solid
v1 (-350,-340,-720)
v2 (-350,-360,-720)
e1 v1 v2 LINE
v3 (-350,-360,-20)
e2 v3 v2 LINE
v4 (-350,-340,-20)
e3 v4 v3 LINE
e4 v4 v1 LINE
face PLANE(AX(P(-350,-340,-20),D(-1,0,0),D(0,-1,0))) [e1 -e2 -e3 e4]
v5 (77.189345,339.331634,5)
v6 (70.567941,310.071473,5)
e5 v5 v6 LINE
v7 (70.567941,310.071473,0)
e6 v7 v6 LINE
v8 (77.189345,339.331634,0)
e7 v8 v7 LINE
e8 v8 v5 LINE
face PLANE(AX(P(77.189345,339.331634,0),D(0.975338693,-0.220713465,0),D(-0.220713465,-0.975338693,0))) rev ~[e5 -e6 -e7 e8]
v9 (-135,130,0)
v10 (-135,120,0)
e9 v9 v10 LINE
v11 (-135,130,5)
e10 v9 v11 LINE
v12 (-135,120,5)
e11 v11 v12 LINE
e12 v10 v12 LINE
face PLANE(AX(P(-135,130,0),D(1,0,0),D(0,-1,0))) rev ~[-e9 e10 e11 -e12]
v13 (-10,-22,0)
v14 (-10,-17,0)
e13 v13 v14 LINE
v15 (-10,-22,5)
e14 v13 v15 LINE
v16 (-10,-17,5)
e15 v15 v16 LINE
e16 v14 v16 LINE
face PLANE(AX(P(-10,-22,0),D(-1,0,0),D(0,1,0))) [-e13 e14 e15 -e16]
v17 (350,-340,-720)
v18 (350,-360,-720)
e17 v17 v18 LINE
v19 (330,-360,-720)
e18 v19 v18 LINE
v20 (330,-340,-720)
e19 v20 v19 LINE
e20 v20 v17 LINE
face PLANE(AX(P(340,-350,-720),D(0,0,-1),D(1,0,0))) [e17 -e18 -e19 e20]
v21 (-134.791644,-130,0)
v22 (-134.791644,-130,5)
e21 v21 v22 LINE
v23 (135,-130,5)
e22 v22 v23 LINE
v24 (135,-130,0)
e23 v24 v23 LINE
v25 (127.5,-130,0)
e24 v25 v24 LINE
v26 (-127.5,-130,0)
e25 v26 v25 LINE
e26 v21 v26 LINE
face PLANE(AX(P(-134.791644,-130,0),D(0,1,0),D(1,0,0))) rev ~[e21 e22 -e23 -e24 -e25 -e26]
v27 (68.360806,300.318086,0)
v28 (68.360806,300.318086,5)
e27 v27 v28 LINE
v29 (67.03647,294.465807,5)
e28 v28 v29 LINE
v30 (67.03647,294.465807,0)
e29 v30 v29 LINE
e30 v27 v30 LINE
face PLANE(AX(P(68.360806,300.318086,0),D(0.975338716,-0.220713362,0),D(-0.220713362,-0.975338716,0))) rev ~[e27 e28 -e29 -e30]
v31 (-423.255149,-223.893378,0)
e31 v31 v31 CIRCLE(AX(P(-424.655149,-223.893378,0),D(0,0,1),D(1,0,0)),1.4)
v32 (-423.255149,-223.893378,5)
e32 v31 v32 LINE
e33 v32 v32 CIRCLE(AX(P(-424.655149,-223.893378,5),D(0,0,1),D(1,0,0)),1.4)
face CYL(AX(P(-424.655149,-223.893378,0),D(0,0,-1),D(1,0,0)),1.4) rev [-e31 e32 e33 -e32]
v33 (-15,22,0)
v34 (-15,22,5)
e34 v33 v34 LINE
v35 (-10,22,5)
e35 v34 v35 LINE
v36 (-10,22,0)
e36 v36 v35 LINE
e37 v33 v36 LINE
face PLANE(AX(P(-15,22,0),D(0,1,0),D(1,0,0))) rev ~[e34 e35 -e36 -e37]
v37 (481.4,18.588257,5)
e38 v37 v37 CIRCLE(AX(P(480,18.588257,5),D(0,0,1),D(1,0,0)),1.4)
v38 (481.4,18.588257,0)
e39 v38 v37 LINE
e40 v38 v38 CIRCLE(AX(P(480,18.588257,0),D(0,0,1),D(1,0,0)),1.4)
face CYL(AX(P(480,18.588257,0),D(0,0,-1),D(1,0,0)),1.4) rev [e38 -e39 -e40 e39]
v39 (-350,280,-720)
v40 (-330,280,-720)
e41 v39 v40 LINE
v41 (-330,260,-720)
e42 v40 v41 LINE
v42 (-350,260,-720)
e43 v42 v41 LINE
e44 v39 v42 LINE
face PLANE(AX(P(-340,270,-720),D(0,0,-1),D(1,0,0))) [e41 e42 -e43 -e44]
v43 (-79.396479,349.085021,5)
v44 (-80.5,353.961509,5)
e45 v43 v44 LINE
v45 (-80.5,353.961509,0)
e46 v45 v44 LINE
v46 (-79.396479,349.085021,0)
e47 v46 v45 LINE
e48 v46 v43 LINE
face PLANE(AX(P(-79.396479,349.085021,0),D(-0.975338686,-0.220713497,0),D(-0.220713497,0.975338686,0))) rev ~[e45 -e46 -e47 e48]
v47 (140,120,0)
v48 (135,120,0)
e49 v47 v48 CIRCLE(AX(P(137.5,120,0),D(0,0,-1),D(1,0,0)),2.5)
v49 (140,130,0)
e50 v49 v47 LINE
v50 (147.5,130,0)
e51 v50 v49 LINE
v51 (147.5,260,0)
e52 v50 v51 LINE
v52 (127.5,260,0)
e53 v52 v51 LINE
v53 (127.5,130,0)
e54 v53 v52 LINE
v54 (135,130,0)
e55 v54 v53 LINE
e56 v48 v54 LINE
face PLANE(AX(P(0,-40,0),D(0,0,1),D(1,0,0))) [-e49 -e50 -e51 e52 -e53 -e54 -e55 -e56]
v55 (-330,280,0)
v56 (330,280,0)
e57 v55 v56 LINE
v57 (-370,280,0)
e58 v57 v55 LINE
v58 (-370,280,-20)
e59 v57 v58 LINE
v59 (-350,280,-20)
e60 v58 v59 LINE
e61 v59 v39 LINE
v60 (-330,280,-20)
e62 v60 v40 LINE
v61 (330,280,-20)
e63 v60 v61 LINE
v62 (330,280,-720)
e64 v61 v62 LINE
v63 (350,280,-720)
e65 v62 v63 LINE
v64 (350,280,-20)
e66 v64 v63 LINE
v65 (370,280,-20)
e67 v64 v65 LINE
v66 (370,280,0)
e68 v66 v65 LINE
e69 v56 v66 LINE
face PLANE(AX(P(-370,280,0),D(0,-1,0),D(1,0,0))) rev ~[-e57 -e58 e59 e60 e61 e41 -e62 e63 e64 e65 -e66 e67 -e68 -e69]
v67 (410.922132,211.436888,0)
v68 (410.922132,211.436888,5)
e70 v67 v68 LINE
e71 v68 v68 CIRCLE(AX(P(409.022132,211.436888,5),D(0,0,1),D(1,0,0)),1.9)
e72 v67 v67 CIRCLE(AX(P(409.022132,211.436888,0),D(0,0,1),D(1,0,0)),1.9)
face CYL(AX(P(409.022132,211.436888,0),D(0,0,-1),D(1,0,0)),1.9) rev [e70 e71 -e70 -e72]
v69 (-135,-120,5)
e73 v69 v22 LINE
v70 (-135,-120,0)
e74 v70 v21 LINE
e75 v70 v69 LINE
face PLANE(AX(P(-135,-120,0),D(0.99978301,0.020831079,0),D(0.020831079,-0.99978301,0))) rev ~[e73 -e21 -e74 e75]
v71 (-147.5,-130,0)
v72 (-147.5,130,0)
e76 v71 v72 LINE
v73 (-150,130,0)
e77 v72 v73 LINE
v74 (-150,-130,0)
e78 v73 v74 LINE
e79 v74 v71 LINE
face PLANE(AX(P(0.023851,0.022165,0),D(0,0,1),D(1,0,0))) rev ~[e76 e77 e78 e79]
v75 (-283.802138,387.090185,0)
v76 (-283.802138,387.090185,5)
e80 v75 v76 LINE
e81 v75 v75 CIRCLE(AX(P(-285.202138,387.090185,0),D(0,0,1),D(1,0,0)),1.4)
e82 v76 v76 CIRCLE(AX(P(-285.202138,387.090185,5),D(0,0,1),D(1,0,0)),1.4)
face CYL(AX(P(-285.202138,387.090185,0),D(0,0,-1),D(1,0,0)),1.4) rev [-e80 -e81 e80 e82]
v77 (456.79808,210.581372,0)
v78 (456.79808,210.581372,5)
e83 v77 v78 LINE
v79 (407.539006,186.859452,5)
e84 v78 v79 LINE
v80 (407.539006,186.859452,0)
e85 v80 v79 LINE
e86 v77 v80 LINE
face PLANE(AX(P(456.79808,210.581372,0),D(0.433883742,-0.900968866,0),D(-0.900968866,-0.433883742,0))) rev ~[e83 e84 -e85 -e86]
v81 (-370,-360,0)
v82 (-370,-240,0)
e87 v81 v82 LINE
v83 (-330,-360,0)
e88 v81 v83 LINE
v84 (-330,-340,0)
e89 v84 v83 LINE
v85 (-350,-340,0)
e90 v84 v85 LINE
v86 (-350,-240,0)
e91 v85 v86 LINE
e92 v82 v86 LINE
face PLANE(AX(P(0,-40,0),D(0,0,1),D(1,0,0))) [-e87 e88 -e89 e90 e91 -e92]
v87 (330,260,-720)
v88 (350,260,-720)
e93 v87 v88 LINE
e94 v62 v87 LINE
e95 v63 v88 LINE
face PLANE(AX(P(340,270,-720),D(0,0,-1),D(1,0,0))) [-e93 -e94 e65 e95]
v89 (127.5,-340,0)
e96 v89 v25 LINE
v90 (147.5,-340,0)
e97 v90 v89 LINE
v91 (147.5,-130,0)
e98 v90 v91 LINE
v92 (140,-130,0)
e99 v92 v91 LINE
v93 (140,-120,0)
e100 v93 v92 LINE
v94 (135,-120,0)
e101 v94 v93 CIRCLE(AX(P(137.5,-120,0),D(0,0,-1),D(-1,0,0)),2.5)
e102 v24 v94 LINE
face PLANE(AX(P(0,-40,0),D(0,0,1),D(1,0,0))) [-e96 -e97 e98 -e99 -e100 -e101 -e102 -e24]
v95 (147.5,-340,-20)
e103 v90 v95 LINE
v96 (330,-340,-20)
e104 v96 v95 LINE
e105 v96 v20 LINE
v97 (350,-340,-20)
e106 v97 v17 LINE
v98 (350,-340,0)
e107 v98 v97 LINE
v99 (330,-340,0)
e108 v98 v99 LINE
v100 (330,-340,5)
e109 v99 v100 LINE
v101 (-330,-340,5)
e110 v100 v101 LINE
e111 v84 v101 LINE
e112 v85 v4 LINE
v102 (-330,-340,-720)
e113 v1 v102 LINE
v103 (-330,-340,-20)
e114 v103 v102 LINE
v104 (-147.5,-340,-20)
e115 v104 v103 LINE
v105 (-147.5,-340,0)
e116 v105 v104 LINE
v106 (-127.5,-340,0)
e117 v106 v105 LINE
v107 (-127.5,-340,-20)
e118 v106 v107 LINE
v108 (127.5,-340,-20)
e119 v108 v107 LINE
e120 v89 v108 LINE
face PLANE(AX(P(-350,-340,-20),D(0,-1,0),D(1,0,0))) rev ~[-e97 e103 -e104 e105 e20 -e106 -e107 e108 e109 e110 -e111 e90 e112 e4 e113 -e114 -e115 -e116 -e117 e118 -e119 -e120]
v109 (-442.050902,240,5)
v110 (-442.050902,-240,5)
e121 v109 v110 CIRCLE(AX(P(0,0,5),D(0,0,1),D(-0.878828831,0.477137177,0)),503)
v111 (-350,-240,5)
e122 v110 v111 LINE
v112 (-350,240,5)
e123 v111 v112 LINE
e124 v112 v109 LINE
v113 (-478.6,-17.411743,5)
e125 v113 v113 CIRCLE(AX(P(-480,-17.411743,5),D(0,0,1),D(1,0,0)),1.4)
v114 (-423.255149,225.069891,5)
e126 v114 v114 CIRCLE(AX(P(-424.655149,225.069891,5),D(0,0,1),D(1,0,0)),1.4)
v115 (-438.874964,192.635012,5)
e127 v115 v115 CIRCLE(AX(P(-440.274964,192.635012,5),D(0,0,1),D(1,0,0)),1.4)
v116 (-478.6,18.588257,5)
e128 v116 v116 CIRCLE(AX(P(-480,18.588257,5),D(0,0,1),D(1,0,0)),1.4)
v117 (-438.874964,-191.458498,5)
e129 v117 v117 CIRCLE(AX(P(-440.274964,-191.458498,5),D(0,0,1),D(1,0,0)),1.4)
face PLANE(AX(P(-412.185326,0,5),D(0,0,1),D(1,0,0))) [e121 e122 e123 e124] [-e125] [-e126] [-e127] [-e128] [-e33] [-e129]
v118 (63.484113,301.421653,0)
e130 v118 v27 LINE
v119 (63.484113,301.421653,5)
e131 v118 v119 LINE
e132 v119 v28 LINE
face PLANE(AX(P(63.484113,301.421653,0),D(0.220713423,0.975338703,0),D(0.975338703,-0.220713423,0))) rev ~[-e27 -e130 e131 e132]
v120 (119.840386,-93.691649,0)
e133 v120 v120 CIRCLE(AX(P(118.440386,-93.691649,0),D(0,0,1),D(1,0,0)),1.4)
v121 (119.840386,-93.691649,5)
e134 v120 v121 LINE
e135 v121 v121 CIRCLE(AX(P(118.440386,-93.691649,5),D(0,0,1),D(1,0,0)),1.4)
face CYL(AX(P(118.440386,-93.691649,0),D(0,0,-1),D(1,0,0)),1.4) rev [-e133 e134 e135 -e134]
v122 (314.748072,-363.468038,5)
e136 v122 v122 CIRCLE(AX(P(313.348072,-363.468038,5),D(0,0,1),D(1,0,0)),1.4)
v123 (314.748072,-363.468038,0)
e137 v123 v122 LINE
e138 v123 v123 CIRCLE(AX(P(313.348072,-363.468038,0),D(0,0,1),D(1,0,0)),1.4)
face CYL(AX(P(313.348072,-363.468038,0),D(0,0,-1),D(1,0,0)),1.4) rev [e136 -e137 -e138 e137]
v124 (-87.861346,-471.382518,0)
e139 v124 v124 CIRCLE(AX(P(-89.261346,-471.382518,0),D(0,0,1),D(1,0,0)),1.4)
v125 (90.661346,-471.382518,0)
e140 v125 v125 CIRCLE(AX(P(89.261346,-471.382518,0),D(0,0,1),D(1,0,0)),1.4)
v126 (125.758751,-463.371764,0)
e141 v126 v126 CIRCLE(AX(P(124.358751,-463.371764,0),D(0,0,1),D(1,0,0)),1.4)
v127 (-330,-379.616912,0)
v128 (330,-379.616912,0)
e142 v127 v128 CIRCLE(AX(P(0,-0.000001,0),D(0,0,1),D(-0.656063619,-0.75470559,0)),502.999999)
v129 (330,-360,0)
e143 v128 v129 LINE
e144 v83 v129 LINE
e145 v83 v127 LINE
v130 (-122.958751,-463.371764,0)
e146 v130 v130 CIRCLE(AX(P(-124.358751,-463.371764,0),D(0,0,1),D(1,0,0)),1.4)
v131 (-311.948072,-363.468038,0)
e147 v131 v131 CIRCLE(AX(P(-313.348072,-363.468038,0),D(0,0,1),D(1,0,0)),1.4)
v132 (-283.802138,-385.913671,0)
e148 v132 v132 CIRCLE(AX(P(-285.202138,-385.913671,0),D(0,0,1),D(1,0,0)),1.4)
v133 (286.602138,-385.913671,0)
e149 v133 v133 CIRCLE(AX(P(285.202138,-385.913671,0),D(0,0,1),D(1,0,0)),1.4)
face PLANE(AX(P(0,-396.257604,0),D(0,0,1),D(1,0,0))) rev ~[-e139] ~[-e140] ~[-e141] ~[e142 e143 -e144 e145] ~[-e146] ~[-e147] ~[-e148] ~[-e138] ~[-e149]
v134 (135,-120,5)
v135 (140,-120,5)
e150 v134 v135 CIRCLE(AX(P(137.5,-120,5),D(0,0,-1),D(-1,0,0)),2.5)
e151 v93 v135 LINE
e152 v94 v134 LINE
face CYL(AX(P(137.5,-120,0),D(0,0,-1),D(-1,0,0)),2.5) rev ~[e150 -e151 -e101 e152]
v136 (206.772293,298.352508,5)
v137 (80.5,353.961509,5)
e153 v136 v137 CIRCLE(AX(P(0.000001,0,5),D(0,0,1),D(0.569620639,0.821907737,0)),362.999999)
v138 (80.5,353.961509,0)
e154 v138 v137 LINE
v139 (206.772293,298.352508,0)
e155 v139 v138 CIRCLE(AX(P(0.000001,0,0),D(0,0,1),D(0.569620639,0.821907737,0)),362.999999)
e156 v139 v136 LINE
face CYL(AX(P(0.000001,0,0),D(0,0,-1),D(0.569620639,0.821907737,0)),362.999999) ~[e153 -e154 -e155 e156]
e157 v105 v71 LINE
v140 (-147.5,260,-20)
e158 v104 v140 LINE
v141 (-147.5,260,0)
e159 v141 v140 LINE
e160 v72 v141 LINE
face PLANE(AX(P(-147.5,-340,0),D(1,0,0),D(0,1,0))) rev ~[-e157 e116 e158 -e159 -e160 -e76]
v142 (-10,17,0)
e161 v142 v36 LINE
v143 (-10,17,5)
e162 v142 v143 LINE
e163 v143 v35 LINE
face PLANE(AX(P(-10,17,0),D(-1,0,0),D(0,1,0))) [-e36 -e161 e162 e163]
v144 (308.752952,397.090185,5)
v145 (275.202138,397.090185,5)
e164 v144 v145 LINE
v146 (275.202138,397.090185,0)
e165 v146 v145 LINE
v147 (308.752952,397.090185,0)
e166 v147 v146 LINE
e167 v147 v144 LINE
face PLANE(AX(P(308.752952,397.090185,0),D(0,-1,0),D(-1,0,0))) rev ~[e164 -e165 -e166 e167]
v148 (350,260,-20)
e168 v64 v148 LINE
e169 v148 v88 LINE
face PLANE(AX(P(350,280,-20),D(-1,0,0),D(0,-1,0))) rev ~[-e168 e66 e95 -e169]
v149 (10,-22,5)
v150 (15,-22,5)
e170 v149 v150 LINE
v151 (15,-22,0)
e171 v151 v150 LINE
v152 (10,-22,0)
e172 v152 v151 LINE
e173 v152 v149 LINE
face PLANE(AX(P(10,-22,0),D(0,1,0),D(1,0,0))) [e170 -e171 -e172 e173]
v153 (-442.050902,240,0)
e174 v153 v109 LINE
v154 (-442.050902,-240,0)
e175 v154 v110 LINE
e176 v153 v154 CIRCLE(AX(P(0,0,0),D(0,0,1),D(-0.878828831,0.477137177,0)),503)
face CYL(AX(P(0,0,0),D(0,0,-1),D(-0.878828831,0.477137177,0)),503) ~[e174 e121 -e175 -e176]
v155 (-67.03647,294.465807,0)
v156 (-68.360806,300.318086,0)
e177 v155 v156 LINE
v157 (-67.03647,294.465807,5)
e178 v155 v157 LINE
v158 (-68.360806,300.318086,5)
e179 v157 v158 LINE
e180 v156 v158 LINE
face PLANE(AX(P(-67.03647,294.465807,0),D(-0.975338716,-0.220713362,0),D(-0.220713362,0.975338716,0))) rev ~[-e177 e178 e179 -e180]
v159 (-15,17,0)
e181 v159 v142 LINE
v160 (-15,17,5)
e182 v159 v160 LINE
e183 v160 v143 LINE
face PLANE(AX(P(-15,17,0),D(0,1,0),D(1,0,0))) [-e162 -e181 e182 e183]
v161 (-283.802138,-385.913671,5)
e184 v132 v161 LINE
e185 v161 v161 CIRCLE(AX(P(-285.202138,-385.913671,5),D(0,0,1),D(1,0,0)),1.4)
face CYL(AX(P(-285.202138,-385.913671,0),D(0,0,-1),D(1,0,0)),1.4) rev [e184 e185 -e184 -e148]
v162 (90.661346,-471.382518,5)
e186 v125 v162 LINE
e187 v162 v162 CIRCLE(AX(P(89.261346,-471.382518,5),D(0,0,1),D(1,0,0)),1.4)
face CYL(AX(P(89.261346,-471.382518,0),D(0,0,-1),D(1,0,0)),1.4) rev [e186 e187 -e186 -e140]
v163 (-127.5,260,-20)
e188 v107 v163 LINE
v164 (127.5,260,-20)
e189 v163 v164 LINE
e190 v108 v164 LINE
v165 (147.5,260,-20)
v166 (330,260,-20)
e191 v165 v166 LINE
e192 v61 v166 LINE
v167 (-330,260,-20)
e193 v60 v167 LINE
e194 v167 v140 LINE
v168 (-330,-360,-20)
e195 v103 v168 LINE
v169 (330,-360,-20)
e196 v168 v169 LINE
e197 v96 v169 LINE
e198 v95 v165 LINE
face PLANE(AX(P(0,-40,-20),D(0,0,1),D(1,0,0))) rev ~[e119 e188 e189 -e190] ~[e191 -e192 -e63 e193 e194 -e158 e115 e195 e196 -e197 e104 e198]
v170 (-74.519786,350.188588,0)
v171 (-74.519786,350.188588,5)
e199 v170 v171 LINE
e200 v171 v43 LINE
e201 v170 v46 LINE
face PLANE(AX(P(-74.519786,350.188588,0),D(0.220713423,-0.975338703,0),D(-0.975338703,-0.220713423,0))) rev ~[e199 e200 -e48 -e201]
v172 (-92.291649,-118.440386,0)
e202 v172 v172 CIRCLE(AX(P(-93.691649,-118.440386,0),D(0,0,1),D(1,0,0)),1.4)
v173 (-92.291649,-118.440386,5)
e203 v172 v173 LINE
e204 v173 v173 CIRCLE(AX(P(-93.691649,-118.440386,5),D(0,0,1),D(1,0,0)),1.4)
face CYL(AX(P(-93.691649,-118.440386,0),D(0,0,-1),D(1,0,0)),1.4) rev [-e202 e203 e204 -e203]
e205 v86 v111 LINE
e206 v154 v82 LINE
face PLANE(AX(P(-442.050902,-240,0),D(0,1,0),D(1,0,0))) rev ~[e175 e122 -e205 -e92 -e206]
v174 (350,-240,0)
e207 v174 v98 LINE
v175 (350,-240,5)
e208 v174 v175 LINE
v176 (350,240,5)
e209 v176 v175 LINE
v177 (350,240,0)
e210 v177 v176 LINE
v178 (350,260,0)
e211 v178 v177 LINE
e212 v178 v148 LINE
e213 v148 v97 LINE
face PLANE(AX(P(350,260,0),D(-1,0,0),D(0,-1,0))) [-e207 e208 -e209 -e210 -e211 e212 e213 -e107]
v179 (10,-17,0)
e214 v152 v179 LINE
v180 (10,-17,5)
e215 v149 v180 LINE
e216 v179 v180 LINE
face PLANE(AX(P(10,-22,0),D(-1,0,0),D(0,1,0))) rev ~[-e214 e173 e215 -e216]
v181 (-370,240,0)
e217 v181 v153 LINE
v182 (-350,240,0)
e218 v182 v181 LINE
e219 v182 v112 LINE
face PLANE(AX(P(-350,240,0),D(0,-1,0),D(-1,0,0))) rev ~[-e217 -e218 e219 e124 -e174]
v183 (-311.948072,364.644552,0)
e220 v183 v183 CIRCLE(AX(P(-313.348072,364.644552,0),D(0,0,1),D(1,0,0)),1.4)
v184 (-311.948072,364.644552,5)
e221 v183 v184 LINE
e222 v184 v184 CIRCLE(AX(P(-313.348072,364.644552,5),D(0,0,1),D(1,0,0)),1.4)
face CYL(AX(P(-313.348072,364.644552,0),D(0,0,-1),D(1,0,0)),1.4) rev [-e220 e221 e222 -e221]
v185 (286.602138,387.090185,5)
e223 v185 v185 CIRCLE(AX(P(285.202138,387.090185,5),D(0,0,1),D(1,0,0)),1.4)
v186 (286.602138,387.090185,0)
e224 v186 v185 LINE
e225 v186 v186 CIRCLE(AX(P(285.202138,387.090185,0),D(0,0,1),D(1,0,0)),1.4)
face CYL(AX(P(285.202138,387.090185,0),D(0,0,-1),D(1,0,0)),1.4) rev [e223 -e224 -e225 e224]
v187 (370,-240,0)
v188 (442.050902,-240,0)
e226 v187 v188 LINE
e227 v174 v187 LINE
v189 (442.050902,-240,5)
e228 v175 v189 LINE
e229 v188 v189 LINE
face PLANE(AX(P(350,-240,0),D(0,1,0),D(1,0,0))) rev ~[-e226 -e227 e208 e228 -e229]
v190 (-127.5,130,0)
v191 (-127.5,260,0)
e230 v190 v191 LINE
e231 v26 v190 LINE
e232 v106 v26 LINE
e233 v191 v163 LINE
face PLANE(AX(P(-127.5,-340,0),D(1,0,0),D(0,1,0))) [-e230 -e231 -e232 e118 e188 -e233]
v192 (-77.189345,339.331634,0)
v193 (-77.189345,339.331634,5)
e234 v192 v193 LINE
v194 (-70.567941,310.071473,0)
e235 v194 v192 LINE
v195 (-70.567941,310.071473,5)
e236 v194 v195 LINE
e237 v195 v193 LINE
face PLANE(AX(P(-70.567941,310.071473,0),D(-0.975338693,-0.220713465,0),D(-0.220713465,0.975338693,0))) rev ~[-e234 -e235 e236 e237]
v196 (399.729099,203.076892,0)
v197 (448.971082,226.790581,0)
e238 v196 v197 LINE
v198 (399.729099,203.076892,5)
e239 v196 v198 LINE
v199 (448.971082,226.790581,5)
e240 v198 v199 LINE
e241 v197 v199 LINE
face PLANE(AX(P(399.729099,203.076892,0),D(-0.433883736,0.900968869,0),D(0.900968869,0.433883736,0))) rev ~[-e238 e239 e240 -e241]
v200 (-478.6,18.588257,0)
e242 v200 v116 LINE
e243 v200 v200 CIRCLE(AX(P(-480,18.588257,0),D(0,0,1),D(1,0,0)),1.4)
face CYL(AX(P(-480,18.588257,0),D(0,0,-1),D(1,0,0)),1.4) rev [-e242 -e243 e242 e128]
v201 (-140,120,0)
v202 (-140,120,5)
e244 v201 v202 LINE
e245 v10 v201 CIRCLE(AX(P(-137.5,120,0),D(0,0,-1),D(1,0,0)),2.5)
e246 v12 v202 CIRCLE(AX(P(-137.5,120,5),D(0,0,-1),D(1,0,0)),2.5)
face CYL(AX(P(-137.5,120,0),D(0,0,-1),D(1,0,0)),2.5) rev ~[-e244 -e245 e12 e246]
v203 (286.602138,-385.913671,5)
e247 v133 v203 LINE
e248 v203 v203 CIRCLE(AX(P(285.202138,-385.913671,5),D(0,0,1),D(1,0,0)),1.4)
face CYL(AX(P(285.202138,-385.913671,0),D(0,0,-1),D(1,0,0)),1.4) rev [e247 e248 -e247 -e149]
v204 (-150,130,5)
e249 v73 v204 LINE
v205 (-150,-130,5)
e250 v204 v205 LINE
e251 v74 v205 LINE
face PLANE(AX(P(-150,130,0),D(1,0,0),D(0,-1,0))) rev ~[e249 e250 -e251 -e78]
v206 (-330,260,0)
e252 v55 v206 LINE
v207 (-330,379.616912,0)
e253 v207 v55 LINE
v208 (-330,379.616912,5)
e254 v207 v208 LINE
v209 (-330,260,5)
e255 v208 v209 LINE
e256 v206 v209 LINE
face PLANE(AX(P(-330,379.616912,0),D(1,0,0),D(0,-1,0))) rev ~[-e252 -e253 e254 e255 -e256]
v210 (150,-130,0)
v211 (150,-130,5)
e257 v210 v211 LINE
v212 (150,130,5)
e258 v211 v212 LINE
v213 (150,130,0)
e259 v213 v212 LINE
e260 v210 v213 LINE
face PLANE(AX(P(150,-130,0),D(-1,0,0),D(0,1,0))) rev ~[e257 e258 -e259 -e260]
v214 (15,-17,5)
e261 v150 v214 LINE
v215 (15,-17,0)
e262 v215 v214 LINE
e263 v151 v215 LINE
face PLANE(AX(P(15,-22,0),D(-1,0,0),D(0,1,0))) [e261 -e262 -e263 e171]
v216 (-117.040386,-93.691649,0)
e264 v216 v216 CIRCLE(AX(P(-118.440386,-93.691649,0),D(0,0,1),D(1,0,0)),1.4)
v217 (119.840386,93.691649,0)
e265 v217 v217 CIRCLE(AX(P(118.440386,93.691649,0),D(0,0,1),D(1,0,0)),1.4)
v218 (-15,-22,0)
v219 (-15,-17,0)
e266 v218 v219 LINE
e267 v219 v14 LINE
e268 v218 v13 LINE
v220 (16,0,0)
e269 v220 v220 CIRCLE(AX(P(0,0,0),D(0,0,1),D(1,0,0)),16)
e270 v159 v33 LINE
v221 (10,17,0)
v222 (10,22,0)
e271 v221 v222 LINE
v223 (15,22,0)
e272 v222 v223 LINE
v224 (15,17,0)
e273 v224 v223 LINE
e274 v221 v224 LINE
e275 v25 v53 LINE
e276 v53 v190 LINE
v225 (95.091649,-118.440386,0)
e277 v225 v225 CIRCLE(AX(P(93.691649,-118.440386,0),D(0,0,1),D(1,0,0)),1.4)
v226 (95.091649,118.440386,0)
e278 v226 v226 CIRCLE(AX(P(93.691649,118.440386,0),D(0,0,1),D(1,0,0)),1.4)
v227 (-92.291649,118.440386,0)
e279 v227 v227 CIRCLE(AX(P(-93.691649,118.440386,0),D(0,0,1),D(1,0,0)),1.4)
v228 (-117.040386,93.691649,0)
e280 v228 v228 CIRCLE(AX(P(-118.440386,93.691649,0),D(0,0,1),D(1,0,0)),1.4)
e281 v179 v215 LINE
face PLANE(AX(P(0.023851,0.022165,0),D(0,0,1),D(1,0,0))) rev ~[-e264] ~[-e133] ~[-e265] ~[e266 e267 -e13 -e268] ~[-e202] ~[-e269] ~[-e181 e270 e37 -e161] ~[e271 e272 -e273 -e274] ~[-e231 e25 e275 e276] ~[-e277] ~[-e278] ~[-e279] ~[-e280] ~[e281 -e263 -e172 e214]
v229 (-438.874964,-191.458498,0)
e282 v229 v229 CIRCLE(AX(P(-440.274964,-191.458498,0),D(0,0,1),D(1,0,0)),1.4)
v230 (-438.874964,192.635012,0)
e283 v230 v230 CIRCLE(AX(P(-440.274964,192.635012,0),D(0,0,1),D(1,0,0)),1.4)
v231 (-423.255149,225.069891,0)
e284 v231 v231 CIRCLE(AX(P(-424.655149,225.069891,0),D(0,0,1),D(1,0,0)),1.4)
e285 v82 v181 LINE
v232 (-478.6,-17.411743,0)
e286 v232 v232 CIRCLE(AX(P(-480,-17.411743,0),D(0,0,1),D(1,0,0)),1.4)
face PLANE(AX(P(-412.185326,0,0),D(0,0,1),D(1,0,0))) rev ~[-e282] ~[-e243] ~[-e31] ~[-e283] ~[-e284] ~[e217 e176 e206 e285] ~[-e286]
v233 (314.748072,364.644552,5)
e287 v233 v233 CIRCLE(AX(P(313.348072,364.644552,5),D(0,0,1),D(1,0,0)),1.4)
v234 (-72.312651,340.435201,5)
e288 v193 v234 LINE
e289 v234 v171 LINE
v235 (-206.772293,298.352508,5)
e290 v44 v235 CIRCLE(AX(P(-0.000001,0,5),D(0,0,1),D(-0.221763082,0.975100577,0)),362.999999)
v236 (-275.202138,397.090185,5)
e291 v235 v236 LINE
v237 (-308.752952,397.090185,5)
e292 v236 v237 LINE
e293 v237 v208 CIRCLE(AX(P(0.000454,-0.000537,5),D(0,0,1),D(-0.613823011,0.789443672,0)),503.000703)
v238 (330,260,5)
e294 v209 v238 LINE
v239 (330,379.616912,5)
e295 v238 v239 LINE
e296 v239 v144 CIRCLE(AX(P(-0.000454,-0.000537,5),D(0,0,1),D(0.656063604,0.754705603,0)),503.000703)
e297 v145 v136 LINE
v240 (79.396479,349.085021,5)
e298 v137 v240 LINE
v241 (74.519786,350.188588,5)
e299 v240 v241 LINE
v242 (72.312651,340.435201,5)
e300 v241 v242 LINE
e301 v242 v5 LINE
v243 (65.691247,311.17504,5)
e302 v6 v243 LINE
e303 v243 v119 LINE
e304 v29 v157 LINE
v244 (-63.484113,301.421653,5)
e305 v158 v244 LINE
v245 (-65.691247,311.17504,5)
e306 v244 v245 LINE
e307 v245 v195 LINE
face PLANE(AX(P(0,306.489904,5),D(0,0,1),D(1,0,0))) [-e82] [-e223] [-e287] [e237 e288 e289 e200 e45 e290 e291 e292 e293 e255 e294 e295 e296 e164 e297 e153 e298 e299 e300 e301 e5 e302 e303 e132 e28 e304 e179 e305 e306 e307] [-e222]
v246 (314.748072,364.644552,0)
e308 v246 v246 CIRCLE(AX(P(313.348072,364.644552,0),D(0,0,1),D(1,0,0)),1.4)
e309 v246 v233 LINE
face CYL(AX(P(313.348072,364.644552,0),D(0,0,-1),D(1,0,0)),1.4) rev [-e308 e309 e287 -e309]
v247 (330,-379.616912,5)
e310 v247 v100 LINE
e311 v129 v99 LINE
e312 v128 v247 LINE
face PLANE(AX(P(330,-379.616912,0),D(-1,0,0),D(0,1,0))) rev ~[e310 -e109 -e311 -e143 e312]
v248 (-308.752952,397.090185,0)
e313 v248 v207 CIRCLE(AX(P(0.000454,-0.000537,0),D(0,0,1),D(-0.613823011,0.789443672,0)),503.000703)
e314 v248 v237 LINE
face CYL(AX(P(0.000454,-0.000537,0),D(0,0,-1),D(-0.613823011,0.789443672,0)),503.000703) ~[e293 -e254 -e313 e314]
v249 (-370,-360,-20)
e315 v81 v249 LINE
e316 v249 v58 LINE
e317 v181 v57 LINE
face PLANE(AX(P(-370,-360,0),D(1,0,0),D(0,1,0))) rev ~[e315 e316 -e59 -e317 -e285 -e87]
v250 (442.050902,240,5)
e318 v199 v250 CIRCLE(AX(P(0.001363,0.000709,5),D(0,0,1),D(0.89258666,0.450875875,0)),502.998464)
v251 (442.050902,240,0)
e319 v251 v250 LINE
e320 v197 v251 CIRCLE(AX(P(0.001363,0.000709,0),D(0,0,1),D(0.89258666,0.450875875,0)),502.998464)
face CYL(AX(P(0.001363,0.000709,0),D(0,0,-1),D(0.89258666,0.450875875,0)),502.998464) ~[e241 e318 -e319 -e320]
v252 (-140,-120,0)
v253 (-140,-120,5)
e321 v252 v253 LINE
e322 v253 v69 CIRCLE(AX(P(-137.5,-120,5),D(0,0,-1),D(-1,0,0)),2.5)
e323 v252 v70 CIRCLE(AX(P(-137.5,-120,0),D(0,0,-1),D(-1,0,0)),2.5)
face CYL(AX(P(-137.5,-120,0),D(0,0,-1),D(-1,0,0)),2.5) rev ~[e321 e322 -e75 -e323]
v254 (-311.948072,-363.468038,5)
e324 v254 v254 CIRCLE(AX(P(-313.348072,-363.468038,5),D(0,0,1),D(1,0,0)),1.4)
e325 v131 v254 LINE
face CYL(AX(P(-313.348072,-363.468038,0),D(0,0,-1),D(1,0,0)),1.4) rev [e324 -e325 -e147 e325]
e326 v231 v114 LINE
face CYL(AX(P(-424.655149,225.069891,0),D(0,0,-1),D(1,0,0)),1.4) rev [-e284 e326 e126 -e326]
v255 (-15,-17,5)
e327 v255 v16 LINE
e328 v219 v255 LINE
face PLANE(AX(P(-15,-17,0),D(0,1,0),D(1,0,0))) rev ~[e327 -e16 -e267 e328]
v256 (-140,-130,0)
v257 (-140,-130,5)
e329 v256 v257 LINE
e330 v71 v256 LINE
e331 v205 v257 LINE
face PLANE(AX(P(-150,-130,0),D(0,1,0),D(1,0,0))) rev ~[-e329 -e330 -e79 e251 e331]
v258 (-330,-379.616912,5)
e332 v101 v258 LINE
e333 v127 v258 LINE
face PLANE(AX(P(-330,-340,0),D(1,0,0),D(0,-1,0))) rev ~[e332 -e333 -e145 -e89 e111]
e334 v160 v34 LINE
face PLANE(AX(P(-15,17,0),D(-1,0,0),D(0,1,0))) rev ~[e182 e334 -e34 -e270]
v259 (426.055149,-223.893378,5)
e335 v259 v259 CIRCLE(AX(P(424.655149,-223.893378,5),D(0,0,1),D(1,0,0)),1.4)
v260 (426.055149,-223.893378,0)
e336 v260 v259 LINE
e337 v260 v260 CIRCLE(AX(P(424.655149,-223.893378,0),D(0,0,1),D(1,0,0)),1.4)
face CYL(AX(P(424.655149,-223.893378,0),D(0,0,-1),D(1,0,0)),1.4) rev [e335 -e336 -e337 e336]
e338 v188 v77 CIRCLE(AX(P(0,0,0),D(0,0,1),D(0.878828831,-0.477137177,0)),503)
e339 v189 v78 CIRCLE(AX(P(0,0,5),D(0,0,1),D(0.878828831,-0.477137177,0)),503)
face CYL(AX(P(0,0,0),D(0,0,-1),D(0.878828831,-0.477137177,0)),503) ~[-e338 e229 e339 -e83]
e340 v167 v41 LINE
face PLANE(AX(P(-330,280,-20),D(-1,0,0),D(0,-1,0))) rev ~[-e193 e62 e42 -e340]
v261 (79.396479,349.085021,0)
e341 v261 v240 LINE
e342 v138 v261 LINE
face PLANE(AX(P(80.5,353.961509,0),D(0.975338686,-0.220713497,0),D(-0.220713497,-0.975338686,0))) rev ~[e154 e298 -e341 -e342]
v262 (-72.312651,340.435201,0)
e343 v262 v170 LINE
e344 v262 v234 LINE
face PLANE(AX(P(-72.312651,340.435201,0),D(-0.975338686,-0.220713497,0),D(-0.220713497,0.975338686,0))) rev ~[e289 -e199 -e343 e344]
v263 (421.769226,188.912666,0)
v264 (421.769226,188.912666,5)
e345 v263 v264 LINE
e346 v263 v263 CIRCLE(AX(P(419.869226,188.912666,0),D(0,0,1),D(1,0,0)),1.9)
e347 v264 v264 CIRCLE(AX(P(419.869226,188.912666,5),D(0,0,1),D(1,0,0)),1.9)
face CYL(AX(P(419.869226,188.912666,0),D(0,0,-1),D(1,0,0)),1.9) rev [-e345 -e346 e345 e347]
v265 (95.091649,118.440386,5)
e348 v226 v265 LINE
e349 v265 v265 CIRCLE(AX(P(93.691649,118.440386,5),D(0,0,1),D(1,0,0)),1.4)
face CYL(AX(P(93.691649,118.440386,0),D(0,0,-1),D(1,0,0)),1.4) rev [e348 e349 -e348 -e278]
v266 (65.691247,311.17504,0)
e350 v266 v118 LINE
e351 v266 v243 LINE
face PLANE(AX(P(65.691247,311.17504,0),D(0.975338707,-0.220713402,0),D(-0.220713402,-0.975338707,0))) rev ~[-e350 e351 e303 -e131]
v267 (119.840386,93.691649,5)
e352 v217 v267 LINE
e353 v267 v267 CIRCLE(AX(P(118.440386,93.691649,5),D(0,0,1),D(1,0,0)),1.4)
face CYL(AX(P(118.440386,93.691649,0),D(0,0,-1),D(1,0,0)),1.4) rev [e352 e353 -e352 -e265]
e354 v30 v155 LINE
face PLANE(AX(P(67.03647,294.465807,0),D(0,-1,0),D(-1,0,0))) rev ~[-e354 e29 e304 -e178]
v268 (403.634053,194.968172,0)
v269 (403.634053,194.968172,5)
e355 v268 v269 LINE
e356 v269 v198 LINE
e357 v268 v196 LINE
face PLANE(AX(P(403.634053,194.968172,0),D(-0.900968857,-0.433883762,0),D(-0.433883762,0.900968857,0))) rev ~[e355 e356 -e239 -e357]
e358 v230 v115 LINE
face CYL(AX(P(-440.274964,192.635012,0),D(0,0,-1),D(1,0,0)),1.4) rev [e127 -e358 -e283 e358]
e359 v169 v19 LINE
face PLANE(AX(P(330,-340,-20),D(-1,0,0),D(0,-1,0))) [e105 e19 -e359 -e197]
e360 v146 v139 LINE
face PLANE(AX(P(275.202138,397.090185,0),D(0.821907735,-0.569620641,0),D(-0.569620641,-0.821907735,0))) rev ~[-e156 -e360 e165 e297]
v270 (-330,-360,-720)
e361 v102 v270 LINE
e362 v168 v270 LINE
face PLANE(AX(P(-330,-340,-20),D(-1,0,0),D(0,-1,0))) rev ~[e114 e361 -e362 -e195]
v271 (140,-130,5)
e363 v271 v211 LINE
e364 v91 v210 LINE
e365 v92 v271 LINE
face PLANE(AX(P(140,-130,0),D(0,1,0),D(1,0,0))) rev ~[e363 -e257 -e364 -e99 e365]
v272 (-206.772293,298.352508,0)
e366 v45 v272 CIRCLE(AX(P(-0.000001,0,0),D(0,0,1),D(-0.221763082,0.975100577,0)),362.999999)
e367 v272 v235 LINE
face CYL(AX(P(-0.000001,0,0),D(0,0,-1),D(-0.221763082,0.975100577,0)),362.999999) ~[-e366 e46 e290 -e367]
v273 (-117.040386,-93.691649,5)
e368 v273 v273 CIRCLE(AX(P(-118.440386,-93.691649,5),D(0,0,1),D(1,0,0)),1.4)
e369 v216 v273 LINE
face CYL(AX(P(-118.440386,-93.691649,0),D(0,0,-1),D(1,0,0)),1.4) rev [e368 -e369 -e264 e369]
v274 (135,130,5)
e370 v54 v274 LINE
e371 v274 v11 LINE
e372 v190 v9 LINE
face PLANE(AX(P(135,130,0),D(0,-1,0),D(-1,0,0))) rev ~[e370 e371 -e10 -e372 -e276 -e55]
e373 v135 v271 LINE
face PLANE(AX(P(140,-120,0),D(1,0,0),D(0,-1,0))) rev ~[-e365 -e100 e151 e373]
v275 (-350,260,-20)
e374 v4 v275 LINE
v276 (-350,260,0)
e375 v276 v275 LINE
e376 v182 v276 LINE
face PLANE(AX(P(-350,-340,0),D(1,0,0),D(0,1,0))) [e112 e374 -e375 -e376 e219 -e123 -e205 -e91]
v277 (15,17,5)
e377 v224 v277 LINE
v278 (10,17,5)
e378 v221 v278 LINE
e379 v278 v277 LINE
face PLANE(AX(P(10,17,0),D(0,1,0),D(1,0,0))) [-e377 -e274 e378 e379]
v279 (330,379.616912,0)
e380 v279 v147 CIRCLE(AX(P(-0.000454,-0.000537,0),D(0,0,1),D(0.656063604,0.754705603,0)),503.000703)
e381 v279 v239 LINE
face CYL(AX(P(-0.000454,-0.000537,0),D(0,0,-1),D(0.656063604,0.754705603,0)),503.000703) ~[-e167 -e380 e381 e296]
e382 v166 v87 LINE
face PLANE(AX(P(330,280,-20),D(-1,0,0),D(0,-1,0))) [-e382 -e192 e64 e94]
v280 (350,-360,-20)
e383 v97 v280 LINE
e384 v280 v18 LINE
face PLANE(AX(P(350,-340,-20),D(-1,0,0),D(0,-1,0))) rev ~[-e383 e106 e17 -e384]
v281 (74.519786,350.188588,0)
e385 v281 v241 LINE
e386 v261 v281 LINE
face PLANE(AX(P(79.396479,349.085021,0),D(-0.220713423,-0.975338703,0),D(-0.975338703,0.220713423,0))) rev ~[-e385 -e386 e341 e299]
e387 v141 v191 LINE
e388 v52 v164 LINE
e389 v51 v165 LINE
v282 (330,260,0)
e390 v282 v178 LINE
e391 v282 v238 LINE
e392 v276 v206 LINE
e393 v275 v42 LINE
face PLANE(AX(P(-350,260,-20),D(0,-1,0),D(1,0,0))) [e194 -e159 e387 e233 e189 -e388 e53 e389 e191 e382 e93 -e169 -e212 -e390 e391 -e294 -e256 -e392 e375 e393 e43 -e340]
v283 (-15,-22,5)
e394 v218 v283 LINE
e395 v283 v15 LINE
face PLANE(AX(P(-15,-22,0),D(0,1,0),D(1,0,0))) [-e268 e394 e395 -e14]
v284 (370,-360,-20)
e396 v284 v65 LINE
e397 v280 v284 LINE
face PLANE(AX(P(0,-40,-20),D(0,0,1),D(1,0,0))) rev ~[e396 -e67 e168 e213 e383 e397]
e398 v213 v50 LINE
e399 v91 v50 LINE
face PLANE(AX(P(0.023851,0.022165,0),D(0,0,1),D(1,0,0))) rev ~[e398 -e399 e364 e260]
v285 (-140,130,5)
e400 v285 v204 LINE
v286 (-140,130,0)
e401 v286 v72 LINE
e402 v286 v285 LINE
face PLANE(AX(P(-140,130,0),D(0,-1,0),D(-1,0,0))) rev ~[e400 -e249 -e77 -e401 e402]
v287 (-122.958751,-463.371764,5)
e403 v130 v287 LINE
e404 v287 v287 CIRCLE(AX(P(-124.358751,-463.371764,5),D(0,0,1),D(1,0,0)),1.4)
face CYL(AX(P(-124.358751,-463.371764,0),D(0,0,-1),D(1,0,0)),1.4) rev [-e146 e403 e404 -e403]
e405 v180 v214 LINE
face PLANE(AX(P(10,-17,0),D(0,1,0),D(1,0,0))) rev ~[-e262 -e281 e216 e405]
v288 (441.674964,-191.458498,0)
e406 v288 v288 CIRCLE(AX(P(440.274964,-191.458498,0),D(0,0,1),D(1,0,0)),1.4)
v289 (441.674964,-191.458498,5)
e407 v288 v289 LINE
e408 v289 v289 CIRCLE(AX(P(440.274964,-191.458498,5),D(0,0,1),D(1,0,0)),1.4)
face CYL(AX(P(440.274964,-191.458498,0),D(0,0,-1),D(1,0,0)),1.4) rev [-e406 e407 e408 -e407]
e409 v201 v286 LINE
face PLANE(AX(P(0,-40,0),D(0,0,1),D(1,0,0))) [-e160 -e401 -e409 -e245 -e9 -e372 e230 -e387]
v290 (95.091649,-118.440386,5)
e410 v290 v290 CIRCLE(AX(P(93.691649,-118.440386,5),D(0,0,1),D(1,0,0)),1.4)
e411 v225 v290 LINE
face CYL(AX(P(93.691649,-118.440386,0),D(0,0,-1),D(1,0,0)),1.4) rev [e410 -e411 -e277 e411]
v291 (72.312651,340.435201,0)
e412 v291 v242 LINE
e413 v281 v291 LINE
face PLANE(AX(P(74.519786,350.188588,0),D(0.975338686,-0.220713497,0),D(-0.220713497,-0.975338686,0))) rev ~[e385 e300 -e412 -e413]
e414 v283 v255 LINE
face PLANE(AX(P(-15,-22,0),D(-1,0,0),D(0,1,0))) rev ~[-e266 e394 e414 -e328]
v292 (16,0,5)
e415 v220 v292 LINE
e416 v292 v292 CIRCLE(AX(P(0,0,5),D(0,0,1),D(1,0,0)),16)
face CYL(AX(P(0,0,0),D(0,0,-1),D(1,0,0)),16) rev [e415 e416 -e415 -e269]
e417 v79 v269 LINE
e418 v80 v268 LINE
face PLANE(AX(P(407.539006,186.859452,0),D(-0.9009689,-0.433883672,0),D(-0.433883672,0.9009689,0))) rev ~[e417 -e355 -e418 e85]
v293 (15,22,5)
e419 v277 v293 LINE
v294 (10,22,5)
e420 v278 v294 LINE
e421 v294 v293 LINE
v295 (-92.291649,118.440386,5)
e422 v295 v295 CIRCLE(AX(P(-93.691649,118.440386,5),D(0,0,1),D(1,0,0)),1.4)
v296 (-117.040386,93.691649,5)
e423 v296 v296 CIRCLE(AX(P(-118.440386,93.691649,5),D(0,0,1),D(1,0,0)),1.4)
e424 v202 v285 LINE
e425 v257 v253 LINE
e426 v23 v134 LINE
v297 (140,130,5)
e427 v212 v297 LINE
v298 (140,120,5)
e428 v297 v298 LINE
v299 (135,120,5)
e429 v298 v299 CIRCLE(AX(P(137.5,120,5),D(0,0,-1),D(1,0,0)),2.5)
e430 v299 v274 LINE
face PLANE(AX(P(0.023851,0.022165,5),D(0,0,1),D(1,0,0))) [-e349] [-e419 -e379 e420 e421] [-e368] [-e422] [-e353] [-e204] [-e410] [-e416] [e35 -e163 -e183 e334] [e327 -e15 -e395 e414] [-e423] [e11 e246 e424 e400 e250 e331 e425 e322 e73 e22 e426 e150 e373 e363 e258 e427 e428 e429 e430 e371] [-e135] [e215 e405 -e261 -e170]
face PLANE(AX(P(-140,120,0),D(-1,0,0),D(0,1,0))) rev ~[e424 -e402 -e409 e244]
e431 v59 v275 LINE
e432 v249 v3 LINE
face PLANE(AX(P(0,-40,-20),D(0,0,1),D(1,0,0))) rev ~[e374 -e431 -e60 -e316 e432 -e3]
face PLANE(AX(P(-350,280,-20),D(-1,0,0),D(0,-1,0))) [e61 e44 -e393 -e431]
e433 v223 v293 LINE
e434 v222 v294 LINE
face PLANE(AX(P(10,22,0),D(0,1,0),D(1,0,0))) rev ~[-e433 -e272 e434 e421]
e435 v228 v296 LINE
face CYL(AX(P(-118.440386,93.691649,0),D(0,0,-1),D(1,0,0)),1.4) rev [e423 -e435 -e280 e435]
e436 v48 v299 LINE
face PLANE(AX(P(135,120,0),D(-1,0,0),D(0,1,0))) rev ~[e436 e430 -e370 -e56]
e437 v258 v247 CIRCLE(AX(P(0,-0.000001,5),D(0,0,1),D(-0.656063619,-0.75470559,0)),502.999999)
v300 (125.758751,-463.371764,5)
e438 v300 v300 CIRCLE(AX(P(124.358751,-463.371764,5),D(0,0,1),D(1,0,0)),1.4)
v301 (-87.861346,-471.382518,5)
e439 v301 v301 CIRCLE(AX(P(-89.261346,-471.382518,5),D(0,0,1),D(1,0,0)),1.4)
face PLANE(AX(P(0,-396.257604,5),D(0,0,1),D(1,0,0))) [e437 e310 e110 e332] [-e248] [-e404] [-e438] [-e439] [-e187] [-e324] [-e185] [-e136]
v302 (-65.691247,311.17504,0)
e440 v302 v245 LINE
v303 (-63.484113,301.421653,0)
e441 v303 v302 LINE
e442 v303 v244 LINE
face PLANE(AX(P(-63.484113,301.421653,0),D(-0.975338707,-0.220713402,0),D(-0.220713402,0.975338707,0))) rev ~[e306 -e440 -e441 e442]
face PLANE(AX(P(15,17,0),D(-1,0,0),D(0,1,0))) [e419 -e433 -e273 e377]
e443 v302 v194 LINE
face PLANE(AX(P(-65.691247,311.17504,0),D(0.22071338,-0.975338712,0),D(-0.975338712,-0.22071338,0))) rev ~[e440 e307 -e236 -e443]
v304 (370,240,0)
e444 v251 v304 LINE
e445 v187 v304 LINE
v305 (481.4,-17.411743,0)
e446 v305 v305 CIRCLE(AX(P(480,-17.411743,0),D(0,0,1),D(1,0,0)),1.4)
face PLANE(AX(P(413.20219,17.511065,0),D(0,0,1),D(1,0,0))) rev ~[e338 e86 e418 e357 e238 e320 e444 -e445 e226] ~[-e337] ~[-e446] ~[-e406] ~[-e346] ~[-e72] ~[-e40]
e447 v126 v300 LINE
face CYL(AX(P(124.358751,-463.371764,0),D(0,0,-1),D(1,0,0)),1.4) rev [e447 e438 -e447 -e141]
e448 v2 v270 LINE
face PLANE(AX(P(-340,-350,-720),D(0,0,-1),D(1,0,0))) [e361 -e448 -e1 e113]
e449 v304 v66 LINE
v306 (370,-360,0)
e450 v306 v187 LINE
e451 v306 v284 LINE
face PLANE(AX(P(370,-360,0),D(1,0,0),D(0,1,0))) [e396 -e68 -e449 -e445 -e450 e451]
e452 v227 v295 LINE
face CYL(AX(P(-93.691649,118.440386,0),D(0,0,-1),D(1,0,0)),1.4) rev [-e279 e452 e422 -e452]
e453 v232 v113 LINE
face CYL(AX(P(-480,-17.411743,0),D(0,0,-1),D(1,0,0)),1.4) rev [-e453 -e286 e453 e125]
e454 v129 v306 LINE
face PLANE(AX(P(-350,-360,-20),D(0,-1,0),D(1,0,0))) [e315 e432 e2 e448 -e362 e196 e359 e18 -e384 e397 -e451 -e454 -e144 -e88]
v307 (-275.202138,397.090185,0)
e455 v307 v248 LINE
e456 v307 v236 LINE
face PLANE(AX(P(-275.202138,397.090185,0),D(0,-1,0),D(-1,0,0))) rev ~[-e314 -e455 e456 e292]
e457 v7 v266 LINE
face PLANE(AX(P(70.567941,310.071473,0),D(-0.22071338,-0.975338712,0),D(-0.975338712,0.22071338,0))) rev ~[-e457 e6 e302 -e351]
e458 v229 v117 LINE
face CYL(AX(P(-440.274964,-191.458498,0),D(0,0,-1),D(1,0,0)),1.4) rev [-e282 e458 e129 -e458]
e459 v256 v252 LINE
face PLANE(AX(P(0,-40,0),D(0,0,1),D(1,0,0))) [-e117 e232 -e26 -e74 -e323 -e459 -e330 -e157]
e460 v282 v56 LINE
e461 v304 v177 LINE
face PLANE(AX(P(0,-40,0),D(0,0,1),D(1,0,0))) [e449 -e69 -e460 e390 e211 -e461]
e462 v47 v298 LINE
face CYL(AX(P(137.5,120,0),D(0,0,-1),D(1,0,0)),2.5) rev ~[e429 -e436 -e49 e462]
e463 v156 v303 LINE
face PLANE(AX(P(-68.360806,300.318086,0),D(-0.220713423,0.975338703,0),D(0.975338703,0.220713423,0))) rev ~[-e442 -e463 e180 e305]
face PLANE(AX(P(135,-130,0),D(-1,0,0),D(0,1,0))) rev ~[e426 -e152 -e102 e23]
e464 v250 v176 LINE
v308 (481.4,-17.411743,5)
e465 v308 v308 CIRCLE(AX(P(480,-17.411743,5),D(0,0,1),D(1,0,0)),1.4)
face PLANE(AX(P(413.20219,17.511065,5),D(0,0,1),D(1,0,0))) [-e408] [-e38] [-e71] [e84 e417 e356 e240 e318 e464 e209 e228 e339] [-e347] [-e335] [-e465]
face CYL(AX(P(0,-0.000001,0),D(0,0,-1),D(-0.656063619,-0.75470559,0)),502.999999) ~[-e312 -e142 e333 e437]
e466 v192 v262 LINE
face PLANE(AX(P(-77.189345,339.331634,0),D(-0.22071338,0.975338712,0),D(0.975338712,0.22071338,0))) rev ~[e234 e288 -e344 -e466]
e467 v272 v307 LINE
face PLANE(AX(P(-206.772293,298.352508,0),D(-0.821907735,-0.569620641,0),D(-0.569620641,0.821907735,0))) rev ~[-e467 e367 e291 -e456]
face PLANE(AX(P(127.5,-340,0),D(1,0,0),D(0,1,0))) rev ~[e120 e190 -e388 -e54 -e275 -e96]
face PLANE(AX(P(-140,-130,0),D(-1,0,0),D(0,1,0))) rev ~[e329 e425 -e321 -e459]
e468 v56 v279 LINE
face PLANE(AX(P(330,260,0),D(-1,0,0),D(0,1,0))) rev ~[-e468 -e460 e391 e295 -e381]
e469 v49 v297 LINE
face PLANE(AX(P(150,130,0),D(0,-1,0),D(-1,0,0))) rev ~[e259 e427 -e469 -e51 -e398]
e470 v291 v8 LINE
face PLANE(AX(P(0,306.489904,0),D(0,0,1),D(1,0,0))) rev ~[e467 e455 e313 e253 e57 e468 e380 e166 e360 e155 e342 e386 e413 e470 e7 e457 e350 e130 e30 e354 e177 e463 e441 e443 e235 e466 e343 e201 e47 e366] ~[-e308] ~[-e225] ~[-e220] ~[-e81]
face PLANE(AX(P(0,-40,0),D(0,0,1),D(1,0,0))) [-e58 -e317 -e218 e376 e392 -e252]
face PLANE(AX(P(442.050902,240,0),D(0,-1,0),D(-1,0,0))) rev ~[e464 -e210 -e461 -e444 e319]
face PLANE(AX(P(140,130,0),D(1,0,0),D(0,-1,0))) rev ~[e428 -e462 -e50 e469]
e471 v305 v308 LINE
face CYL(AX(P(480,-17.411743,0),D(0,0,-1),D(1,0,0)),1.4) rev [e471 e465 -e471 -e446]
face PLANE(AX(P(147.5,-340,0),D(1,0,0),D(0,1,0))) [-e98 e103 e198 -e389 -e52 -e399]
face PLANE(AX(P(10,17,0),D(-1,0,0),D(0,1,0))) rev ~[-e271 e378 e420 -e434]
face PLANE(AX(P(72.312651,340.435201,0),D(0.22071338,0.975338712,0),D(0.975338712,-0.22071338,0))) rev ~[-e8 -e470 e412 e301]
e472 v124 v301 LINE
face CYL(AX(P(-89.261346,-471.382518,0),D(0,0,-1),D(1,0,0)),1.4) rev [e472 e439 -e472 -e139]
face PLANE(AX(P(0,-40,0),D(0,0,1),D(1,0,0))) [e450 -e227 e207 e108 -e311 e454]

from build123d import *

# Parameters (mm, degrees)
F1_W     = 740
F1_H     = 640
F1_W_2   = 20
F1_H_2   = 600
F2_DEPTH = 20
F0_R     = 1.4
F0_R_2   = 1.9
F0_W     = 5
F0_H     = 5
F0_R_3   = 16
F3_DEPTH = 5
F4_W     = 20
F4_H     = 20
F5_DEPTH = 700


with BuildPart() as f2:
    # F1 (on Top) → F2 (new body)
    with BuildSketch(Plane.XY):
        with Locations((0, -40)):
            Rectangle(F1_W, F1_H)
        Polygon((-350, -340), (-350, 260), (-147.5, 260), (-127.5, 260), (127.5, 260), (147.5, 260), (350, 260), (350, -340), (147.5, -340), (127.5, -340), (-127.5, -340), (-147.5, -340), align=None, mode=Mode.SUBTRACT)
        with Locations((137.5, -40)):
            Rectangle(F1_W_2, F1_H_2)
        with Locations((-137.5, -40)):
            Rectangle(F1_W_2, F1_H_2)
    extrude(amount=-F2_DEPTH)

    # F0 (on Top) → F3 (join)
    with BuildSketch(Plane.XY):
        with BuildLine():
            Line((330, -340), (-330, -340))
            Line((-330, -340), (-330, -379.616912))
            ThreePointArc((-330, -379.616912), (0, -503), (330, -379.616912))
            Line((330, -379.616912), (330, -340))
        make_face()
        with Locations((-285.202138, -385.913671)):
            Circle(F0_R, mode=Mode.SUBTRACT)
        with Locations((-313.348072, -363.468038)):
            Circle(F0_R, mode=Mode.SUBTRACT)
        with Locations((-124.358751, -463.371764)):
            Circle(F0_R, mode=Mode.SUBTRACT)
        with Locations((-89.261346, -471.382518)):
            Circle(F0_R, mode=Mode.SUBTRACT)
        with Locations((89.261346, -471.382518)):
            Circle(F0_R, mode=Mode.SUBTRACT)
        with Locations((124.358751, -463.371764)):
            Circle(F0_R, mode=Mode.SUBTRACT)
        with Locations((285.202138, -385.913671)):
            Circle(F0_R, mode=Mode.SUBTRACT)
        with Locations((313.348072, -363.468038)):
            Circle(F0_R, mode=Mode.SUBTRACT)
        with BuildLine():
            Line((330, 260), (330, 368.951685))
            Line((330, 368.951685), (330, 379.616912))
            ThreePointArc((330, 379.616912), (319.49595, 388.498826), (308.752952, 397.090185))
            Line((308.752952, 397.090185), (275.202138, 397.090185))
            Line((275.202138, 397.090185), (206.772293, 298.352508))
            ThreePointArc((206.772293, 298.352508), (146.302539, 332.21163), (80.5, 353.961509))
            Line((80.5, 353.961509), (79.396479, 349.085021))
            Line((79.396479, 349.085021), (77.189345, 339.331634))
            Line((77.189345, 339.331634), (70.567941, 310.071473))
            Line((70.567941, 310.071473), (68.360806, 300.318086))
            Line((68.360806, 300.318086), (67.03647, 294.465807))
            Line((67.03647, 294.465807), (-67.03647, 294.465807))
            Line((-67.03647, 294.465807), (-68.360806, 300.318086))
            Line((-68.360806, 300.318086), (-70.567941, 310.071473))
            Line((-70.567941, 310.071473), (-77.189345, 339.331634))
            Line((-77.189345, 339.331634), (-79.396479, 349.085021))
            Line((-79.396479, 349.085021), (-80.5, 353.961509))
            ThreePointArc((-80.5, 353.961509), (-146.302539, 332.21163), (-206.772293, 298.352508))
            Line((-206.772293, 298.352508), (-275.202138, 397.090185))
            Line((-275.202138, 397.090185), (-308.752952, 397.090185))
            ThreePointArc((-308.752952, 397.090185), (-319.49595, 388.498826), (-330, 379.616912))
            Line((-330, 379.616912), (-330, 260))
            Line((-330, 260), (330, 260))
        make_face()
        with Locations((-313.348072, 364.644552)):
            Circle(F0_R, mode=Mode.SUBTRACT)
        with Locations((-285.202138, 387.090185)):
            Circle(F0_R, mode=Mode.SUBTRACT)
        with Locations((313.348072, 364.644552)):
            Circle(F0_R, mode=Mode.SUBTRACT)
        with Locations((285.202138, 387.090185)):
            Circle(F0_R, mode=Mode.SUBTRACT)
        Polygon((77.189345, 339.331634), (79.396479, 349.085021), (74.519786, 350.188588), (72.312651, 340.435201), align=None)
        Polygon((-74.519786, 350.188588), (-79.396479, 349.085021), (-77.189345, 339.331634), (-72.312651, 340.435201), align=None)
        Polygon((68.360806, 300.318086), (70.567941, 310.071473), (65.691247, 311.17504), (63.484113, 301.421653), align=None)
        Polygon((-65.691247, 311.17504), (-70.567941, 310.071473), (-68.360806, 300.318086), (-63.484113, 301.421653), align=None)
        with BuildLine():
            Line((442.050902, 240), (350, 240))
            Line((350, 240), (350, -240))
            Line((350, -240), (442.050902, -240))
            ThreePointArc((442.050902, -240), (502.730809, -16.453988), (456.79808, 210.581372))
            Line((456.79808, 210.581372), (407.539006, 186.859452))
            Line((407.539006, 186.859452), (403.634053, 194.968172))
            Line((403.634053, 194.968172), (399.729099, 203.076892))
            Line((399.729099, 203.076892), (448.971082, 226.790581))
            ThreePointArc((448.971082, 226.790581), (445.559947, 233.420937), (442.050902, 240))
        make_face()
        with Locations((424.655149, -223.893378)):
            Circle(F0_R, mode=Mode.SUBTRACT)
        with Locations((440.274964, -191.458498)):
            Circle(F0_R, mode=Mode.SUBTRACT)
        with Locations((480, -17.411743)):
            Circle(F0_R, mode=Mode.SUBTRACT)
        with Locations((480, 18.588257)):
            Circle(F0_R, mode=Mode.SUBTRACT)
        with Locations((419.869226, 188.912666)):
            Circle(F0_R_2, mode=Mode.SUBTRACT)
        with Locations((409.022132, 211.436888)):
            Circle(F0_R_2, mode=Mode.SUBTRACT)
        with BuildLine():
            Line((-350, -240), (-350, 240))
            Line((-350, 240), (-442.050902, 240))
            ThreePointArc((-442.050902, 240), (-503, 0), (-442.050902, -240))
            Line((-442.050902, -240), (-350, -240))
        make_face()
        with Locations((-424.655149, -223.893378)):
            Circle(F0_R, mode=Mode.SUBTRACT)
        with Locations((-440.274964, -191.458498)):
            Circle(F0_R, mode=Mode.SUBTRACT)
        with Locations((-480, -17.411743)):
            Circle(F0_R, mode=Mode.SUBTRACT)
        with Locations((-480, 18.588257)):
            Circle(F0_R, mode=Mode.SUBTRACT)
        with Locations((-440.274964, 192.635012)):
            Circle(F0_R, mode=Mode.SUBTRACT)
        with Locations((-424.655149, 225.069891)):
            Circle(F0_R, mode=Mode.SUBTRACT)
        with BuildLine():
            Line((-140, 130), (-150, 130))
            Line((-150, 130), (-150, -130))
            Line((-150, -130), (-140, -130))
            Line((-140, -130), (-140, -120))
            ThreePointArc((-140, -120), (-137.5, -117.5), (-135, -120))
            Line((-135, -120), (-134.791644, -130))
            Line((-134.791644, -130), (135, -130))
            Line((135, -130), (135, -120))
            ThreePointArc((135, -120), (137.5, -117.5), (140, -120))
            Line((140, -120), (140, -130))
            Line((140, -130), (150, -130))
            Line((150, -130), (150, 130))
            Line((150, 130), (140, 130))
            Line((140, 130), (140, 120))
            ThreePointArc((140, 120), (137.5, 117.5), (135, 120))
            Line((135, 120), (135, 130))
            Line((135, 130), (-135, 130))
            Line((-135, 130), (-135, 120))
            ThreePointArc((-135, 120), (-137.5, 117.5), (-140, 120))
            Line((-140, 120), (-140, 130))
        make_face()
        with Locations((-93.691649, -118.440386)):
            Circle(F0_R, mode=Mode.SUBTRACT)
        with Locations((-118.440386, -93.691649)):
            Circle(F0_R, mode=Mode.SUBTRACT)
        with Locations((93.691649, -118.440386)):
            Circle(F0_R, mode=Mode.SUBTRACT)
        with Locations((118.440386, -93.691649)):
            Circle(F0_R, mode=Mode.SUBTRACT)
        with Locations((-12.5, -19.5)):
            Rectangle(F0_W, F0_H, mode=Mode.SUBTRACT)
        Circle(F0_R_3, mode=Mode.SUBTRACT)
        with Locations((-12.5, 19.5)):
            Rectangle(F0_W, F0_H, mode=Mode.SUBTRACT)
        with Locations((-118.440386, 93.691649)):
            Circle(F0_R, mode=Mode.SUBTRACT)
        with Locations((-93.691649, 118.440386)):
            Circle(F0_R, mode=Mode.SUBTRACT)
        with Locations((12.5, -19.5)):
            Rectangle(F0_W, F0_H, mode=Mode.SUBTRACT)
        with Locations((12.5, 19.5)):
            Rectangle(F0_W, F0_H, mode=Mode.SUBTRACT)
        with Locations((118.440386, 93.691649)):
            Circle(F0_R, mode=Mode.SUBTRACT)
        with Locations((93.691649, 118.440386)):
            Circle(F0_R, mode=Mode.SUBTRACT)
    extrude(amount=F3_DEPTH)

    # F4 (on face) → F5 (join)
    with BuildSketch(Plane(origin=(0, 0, -20), x_dir=(1, 0, 0), z_dir=(0, 0, -1))):
        with Locations((-340, 350)):
            Rectangle(F4_W, F4_H)
        with Locations((340, 350)):
            Rectangle(F4_W, F4_H)
        with Locations((-340, -270)):
            Rectangle(F4_W, F4_H)
        with Locations((340, -270)):
            Rectangle(F4_W, F4_H)
    extrude(amount=F5_DEPTH)


solid = f2.part
